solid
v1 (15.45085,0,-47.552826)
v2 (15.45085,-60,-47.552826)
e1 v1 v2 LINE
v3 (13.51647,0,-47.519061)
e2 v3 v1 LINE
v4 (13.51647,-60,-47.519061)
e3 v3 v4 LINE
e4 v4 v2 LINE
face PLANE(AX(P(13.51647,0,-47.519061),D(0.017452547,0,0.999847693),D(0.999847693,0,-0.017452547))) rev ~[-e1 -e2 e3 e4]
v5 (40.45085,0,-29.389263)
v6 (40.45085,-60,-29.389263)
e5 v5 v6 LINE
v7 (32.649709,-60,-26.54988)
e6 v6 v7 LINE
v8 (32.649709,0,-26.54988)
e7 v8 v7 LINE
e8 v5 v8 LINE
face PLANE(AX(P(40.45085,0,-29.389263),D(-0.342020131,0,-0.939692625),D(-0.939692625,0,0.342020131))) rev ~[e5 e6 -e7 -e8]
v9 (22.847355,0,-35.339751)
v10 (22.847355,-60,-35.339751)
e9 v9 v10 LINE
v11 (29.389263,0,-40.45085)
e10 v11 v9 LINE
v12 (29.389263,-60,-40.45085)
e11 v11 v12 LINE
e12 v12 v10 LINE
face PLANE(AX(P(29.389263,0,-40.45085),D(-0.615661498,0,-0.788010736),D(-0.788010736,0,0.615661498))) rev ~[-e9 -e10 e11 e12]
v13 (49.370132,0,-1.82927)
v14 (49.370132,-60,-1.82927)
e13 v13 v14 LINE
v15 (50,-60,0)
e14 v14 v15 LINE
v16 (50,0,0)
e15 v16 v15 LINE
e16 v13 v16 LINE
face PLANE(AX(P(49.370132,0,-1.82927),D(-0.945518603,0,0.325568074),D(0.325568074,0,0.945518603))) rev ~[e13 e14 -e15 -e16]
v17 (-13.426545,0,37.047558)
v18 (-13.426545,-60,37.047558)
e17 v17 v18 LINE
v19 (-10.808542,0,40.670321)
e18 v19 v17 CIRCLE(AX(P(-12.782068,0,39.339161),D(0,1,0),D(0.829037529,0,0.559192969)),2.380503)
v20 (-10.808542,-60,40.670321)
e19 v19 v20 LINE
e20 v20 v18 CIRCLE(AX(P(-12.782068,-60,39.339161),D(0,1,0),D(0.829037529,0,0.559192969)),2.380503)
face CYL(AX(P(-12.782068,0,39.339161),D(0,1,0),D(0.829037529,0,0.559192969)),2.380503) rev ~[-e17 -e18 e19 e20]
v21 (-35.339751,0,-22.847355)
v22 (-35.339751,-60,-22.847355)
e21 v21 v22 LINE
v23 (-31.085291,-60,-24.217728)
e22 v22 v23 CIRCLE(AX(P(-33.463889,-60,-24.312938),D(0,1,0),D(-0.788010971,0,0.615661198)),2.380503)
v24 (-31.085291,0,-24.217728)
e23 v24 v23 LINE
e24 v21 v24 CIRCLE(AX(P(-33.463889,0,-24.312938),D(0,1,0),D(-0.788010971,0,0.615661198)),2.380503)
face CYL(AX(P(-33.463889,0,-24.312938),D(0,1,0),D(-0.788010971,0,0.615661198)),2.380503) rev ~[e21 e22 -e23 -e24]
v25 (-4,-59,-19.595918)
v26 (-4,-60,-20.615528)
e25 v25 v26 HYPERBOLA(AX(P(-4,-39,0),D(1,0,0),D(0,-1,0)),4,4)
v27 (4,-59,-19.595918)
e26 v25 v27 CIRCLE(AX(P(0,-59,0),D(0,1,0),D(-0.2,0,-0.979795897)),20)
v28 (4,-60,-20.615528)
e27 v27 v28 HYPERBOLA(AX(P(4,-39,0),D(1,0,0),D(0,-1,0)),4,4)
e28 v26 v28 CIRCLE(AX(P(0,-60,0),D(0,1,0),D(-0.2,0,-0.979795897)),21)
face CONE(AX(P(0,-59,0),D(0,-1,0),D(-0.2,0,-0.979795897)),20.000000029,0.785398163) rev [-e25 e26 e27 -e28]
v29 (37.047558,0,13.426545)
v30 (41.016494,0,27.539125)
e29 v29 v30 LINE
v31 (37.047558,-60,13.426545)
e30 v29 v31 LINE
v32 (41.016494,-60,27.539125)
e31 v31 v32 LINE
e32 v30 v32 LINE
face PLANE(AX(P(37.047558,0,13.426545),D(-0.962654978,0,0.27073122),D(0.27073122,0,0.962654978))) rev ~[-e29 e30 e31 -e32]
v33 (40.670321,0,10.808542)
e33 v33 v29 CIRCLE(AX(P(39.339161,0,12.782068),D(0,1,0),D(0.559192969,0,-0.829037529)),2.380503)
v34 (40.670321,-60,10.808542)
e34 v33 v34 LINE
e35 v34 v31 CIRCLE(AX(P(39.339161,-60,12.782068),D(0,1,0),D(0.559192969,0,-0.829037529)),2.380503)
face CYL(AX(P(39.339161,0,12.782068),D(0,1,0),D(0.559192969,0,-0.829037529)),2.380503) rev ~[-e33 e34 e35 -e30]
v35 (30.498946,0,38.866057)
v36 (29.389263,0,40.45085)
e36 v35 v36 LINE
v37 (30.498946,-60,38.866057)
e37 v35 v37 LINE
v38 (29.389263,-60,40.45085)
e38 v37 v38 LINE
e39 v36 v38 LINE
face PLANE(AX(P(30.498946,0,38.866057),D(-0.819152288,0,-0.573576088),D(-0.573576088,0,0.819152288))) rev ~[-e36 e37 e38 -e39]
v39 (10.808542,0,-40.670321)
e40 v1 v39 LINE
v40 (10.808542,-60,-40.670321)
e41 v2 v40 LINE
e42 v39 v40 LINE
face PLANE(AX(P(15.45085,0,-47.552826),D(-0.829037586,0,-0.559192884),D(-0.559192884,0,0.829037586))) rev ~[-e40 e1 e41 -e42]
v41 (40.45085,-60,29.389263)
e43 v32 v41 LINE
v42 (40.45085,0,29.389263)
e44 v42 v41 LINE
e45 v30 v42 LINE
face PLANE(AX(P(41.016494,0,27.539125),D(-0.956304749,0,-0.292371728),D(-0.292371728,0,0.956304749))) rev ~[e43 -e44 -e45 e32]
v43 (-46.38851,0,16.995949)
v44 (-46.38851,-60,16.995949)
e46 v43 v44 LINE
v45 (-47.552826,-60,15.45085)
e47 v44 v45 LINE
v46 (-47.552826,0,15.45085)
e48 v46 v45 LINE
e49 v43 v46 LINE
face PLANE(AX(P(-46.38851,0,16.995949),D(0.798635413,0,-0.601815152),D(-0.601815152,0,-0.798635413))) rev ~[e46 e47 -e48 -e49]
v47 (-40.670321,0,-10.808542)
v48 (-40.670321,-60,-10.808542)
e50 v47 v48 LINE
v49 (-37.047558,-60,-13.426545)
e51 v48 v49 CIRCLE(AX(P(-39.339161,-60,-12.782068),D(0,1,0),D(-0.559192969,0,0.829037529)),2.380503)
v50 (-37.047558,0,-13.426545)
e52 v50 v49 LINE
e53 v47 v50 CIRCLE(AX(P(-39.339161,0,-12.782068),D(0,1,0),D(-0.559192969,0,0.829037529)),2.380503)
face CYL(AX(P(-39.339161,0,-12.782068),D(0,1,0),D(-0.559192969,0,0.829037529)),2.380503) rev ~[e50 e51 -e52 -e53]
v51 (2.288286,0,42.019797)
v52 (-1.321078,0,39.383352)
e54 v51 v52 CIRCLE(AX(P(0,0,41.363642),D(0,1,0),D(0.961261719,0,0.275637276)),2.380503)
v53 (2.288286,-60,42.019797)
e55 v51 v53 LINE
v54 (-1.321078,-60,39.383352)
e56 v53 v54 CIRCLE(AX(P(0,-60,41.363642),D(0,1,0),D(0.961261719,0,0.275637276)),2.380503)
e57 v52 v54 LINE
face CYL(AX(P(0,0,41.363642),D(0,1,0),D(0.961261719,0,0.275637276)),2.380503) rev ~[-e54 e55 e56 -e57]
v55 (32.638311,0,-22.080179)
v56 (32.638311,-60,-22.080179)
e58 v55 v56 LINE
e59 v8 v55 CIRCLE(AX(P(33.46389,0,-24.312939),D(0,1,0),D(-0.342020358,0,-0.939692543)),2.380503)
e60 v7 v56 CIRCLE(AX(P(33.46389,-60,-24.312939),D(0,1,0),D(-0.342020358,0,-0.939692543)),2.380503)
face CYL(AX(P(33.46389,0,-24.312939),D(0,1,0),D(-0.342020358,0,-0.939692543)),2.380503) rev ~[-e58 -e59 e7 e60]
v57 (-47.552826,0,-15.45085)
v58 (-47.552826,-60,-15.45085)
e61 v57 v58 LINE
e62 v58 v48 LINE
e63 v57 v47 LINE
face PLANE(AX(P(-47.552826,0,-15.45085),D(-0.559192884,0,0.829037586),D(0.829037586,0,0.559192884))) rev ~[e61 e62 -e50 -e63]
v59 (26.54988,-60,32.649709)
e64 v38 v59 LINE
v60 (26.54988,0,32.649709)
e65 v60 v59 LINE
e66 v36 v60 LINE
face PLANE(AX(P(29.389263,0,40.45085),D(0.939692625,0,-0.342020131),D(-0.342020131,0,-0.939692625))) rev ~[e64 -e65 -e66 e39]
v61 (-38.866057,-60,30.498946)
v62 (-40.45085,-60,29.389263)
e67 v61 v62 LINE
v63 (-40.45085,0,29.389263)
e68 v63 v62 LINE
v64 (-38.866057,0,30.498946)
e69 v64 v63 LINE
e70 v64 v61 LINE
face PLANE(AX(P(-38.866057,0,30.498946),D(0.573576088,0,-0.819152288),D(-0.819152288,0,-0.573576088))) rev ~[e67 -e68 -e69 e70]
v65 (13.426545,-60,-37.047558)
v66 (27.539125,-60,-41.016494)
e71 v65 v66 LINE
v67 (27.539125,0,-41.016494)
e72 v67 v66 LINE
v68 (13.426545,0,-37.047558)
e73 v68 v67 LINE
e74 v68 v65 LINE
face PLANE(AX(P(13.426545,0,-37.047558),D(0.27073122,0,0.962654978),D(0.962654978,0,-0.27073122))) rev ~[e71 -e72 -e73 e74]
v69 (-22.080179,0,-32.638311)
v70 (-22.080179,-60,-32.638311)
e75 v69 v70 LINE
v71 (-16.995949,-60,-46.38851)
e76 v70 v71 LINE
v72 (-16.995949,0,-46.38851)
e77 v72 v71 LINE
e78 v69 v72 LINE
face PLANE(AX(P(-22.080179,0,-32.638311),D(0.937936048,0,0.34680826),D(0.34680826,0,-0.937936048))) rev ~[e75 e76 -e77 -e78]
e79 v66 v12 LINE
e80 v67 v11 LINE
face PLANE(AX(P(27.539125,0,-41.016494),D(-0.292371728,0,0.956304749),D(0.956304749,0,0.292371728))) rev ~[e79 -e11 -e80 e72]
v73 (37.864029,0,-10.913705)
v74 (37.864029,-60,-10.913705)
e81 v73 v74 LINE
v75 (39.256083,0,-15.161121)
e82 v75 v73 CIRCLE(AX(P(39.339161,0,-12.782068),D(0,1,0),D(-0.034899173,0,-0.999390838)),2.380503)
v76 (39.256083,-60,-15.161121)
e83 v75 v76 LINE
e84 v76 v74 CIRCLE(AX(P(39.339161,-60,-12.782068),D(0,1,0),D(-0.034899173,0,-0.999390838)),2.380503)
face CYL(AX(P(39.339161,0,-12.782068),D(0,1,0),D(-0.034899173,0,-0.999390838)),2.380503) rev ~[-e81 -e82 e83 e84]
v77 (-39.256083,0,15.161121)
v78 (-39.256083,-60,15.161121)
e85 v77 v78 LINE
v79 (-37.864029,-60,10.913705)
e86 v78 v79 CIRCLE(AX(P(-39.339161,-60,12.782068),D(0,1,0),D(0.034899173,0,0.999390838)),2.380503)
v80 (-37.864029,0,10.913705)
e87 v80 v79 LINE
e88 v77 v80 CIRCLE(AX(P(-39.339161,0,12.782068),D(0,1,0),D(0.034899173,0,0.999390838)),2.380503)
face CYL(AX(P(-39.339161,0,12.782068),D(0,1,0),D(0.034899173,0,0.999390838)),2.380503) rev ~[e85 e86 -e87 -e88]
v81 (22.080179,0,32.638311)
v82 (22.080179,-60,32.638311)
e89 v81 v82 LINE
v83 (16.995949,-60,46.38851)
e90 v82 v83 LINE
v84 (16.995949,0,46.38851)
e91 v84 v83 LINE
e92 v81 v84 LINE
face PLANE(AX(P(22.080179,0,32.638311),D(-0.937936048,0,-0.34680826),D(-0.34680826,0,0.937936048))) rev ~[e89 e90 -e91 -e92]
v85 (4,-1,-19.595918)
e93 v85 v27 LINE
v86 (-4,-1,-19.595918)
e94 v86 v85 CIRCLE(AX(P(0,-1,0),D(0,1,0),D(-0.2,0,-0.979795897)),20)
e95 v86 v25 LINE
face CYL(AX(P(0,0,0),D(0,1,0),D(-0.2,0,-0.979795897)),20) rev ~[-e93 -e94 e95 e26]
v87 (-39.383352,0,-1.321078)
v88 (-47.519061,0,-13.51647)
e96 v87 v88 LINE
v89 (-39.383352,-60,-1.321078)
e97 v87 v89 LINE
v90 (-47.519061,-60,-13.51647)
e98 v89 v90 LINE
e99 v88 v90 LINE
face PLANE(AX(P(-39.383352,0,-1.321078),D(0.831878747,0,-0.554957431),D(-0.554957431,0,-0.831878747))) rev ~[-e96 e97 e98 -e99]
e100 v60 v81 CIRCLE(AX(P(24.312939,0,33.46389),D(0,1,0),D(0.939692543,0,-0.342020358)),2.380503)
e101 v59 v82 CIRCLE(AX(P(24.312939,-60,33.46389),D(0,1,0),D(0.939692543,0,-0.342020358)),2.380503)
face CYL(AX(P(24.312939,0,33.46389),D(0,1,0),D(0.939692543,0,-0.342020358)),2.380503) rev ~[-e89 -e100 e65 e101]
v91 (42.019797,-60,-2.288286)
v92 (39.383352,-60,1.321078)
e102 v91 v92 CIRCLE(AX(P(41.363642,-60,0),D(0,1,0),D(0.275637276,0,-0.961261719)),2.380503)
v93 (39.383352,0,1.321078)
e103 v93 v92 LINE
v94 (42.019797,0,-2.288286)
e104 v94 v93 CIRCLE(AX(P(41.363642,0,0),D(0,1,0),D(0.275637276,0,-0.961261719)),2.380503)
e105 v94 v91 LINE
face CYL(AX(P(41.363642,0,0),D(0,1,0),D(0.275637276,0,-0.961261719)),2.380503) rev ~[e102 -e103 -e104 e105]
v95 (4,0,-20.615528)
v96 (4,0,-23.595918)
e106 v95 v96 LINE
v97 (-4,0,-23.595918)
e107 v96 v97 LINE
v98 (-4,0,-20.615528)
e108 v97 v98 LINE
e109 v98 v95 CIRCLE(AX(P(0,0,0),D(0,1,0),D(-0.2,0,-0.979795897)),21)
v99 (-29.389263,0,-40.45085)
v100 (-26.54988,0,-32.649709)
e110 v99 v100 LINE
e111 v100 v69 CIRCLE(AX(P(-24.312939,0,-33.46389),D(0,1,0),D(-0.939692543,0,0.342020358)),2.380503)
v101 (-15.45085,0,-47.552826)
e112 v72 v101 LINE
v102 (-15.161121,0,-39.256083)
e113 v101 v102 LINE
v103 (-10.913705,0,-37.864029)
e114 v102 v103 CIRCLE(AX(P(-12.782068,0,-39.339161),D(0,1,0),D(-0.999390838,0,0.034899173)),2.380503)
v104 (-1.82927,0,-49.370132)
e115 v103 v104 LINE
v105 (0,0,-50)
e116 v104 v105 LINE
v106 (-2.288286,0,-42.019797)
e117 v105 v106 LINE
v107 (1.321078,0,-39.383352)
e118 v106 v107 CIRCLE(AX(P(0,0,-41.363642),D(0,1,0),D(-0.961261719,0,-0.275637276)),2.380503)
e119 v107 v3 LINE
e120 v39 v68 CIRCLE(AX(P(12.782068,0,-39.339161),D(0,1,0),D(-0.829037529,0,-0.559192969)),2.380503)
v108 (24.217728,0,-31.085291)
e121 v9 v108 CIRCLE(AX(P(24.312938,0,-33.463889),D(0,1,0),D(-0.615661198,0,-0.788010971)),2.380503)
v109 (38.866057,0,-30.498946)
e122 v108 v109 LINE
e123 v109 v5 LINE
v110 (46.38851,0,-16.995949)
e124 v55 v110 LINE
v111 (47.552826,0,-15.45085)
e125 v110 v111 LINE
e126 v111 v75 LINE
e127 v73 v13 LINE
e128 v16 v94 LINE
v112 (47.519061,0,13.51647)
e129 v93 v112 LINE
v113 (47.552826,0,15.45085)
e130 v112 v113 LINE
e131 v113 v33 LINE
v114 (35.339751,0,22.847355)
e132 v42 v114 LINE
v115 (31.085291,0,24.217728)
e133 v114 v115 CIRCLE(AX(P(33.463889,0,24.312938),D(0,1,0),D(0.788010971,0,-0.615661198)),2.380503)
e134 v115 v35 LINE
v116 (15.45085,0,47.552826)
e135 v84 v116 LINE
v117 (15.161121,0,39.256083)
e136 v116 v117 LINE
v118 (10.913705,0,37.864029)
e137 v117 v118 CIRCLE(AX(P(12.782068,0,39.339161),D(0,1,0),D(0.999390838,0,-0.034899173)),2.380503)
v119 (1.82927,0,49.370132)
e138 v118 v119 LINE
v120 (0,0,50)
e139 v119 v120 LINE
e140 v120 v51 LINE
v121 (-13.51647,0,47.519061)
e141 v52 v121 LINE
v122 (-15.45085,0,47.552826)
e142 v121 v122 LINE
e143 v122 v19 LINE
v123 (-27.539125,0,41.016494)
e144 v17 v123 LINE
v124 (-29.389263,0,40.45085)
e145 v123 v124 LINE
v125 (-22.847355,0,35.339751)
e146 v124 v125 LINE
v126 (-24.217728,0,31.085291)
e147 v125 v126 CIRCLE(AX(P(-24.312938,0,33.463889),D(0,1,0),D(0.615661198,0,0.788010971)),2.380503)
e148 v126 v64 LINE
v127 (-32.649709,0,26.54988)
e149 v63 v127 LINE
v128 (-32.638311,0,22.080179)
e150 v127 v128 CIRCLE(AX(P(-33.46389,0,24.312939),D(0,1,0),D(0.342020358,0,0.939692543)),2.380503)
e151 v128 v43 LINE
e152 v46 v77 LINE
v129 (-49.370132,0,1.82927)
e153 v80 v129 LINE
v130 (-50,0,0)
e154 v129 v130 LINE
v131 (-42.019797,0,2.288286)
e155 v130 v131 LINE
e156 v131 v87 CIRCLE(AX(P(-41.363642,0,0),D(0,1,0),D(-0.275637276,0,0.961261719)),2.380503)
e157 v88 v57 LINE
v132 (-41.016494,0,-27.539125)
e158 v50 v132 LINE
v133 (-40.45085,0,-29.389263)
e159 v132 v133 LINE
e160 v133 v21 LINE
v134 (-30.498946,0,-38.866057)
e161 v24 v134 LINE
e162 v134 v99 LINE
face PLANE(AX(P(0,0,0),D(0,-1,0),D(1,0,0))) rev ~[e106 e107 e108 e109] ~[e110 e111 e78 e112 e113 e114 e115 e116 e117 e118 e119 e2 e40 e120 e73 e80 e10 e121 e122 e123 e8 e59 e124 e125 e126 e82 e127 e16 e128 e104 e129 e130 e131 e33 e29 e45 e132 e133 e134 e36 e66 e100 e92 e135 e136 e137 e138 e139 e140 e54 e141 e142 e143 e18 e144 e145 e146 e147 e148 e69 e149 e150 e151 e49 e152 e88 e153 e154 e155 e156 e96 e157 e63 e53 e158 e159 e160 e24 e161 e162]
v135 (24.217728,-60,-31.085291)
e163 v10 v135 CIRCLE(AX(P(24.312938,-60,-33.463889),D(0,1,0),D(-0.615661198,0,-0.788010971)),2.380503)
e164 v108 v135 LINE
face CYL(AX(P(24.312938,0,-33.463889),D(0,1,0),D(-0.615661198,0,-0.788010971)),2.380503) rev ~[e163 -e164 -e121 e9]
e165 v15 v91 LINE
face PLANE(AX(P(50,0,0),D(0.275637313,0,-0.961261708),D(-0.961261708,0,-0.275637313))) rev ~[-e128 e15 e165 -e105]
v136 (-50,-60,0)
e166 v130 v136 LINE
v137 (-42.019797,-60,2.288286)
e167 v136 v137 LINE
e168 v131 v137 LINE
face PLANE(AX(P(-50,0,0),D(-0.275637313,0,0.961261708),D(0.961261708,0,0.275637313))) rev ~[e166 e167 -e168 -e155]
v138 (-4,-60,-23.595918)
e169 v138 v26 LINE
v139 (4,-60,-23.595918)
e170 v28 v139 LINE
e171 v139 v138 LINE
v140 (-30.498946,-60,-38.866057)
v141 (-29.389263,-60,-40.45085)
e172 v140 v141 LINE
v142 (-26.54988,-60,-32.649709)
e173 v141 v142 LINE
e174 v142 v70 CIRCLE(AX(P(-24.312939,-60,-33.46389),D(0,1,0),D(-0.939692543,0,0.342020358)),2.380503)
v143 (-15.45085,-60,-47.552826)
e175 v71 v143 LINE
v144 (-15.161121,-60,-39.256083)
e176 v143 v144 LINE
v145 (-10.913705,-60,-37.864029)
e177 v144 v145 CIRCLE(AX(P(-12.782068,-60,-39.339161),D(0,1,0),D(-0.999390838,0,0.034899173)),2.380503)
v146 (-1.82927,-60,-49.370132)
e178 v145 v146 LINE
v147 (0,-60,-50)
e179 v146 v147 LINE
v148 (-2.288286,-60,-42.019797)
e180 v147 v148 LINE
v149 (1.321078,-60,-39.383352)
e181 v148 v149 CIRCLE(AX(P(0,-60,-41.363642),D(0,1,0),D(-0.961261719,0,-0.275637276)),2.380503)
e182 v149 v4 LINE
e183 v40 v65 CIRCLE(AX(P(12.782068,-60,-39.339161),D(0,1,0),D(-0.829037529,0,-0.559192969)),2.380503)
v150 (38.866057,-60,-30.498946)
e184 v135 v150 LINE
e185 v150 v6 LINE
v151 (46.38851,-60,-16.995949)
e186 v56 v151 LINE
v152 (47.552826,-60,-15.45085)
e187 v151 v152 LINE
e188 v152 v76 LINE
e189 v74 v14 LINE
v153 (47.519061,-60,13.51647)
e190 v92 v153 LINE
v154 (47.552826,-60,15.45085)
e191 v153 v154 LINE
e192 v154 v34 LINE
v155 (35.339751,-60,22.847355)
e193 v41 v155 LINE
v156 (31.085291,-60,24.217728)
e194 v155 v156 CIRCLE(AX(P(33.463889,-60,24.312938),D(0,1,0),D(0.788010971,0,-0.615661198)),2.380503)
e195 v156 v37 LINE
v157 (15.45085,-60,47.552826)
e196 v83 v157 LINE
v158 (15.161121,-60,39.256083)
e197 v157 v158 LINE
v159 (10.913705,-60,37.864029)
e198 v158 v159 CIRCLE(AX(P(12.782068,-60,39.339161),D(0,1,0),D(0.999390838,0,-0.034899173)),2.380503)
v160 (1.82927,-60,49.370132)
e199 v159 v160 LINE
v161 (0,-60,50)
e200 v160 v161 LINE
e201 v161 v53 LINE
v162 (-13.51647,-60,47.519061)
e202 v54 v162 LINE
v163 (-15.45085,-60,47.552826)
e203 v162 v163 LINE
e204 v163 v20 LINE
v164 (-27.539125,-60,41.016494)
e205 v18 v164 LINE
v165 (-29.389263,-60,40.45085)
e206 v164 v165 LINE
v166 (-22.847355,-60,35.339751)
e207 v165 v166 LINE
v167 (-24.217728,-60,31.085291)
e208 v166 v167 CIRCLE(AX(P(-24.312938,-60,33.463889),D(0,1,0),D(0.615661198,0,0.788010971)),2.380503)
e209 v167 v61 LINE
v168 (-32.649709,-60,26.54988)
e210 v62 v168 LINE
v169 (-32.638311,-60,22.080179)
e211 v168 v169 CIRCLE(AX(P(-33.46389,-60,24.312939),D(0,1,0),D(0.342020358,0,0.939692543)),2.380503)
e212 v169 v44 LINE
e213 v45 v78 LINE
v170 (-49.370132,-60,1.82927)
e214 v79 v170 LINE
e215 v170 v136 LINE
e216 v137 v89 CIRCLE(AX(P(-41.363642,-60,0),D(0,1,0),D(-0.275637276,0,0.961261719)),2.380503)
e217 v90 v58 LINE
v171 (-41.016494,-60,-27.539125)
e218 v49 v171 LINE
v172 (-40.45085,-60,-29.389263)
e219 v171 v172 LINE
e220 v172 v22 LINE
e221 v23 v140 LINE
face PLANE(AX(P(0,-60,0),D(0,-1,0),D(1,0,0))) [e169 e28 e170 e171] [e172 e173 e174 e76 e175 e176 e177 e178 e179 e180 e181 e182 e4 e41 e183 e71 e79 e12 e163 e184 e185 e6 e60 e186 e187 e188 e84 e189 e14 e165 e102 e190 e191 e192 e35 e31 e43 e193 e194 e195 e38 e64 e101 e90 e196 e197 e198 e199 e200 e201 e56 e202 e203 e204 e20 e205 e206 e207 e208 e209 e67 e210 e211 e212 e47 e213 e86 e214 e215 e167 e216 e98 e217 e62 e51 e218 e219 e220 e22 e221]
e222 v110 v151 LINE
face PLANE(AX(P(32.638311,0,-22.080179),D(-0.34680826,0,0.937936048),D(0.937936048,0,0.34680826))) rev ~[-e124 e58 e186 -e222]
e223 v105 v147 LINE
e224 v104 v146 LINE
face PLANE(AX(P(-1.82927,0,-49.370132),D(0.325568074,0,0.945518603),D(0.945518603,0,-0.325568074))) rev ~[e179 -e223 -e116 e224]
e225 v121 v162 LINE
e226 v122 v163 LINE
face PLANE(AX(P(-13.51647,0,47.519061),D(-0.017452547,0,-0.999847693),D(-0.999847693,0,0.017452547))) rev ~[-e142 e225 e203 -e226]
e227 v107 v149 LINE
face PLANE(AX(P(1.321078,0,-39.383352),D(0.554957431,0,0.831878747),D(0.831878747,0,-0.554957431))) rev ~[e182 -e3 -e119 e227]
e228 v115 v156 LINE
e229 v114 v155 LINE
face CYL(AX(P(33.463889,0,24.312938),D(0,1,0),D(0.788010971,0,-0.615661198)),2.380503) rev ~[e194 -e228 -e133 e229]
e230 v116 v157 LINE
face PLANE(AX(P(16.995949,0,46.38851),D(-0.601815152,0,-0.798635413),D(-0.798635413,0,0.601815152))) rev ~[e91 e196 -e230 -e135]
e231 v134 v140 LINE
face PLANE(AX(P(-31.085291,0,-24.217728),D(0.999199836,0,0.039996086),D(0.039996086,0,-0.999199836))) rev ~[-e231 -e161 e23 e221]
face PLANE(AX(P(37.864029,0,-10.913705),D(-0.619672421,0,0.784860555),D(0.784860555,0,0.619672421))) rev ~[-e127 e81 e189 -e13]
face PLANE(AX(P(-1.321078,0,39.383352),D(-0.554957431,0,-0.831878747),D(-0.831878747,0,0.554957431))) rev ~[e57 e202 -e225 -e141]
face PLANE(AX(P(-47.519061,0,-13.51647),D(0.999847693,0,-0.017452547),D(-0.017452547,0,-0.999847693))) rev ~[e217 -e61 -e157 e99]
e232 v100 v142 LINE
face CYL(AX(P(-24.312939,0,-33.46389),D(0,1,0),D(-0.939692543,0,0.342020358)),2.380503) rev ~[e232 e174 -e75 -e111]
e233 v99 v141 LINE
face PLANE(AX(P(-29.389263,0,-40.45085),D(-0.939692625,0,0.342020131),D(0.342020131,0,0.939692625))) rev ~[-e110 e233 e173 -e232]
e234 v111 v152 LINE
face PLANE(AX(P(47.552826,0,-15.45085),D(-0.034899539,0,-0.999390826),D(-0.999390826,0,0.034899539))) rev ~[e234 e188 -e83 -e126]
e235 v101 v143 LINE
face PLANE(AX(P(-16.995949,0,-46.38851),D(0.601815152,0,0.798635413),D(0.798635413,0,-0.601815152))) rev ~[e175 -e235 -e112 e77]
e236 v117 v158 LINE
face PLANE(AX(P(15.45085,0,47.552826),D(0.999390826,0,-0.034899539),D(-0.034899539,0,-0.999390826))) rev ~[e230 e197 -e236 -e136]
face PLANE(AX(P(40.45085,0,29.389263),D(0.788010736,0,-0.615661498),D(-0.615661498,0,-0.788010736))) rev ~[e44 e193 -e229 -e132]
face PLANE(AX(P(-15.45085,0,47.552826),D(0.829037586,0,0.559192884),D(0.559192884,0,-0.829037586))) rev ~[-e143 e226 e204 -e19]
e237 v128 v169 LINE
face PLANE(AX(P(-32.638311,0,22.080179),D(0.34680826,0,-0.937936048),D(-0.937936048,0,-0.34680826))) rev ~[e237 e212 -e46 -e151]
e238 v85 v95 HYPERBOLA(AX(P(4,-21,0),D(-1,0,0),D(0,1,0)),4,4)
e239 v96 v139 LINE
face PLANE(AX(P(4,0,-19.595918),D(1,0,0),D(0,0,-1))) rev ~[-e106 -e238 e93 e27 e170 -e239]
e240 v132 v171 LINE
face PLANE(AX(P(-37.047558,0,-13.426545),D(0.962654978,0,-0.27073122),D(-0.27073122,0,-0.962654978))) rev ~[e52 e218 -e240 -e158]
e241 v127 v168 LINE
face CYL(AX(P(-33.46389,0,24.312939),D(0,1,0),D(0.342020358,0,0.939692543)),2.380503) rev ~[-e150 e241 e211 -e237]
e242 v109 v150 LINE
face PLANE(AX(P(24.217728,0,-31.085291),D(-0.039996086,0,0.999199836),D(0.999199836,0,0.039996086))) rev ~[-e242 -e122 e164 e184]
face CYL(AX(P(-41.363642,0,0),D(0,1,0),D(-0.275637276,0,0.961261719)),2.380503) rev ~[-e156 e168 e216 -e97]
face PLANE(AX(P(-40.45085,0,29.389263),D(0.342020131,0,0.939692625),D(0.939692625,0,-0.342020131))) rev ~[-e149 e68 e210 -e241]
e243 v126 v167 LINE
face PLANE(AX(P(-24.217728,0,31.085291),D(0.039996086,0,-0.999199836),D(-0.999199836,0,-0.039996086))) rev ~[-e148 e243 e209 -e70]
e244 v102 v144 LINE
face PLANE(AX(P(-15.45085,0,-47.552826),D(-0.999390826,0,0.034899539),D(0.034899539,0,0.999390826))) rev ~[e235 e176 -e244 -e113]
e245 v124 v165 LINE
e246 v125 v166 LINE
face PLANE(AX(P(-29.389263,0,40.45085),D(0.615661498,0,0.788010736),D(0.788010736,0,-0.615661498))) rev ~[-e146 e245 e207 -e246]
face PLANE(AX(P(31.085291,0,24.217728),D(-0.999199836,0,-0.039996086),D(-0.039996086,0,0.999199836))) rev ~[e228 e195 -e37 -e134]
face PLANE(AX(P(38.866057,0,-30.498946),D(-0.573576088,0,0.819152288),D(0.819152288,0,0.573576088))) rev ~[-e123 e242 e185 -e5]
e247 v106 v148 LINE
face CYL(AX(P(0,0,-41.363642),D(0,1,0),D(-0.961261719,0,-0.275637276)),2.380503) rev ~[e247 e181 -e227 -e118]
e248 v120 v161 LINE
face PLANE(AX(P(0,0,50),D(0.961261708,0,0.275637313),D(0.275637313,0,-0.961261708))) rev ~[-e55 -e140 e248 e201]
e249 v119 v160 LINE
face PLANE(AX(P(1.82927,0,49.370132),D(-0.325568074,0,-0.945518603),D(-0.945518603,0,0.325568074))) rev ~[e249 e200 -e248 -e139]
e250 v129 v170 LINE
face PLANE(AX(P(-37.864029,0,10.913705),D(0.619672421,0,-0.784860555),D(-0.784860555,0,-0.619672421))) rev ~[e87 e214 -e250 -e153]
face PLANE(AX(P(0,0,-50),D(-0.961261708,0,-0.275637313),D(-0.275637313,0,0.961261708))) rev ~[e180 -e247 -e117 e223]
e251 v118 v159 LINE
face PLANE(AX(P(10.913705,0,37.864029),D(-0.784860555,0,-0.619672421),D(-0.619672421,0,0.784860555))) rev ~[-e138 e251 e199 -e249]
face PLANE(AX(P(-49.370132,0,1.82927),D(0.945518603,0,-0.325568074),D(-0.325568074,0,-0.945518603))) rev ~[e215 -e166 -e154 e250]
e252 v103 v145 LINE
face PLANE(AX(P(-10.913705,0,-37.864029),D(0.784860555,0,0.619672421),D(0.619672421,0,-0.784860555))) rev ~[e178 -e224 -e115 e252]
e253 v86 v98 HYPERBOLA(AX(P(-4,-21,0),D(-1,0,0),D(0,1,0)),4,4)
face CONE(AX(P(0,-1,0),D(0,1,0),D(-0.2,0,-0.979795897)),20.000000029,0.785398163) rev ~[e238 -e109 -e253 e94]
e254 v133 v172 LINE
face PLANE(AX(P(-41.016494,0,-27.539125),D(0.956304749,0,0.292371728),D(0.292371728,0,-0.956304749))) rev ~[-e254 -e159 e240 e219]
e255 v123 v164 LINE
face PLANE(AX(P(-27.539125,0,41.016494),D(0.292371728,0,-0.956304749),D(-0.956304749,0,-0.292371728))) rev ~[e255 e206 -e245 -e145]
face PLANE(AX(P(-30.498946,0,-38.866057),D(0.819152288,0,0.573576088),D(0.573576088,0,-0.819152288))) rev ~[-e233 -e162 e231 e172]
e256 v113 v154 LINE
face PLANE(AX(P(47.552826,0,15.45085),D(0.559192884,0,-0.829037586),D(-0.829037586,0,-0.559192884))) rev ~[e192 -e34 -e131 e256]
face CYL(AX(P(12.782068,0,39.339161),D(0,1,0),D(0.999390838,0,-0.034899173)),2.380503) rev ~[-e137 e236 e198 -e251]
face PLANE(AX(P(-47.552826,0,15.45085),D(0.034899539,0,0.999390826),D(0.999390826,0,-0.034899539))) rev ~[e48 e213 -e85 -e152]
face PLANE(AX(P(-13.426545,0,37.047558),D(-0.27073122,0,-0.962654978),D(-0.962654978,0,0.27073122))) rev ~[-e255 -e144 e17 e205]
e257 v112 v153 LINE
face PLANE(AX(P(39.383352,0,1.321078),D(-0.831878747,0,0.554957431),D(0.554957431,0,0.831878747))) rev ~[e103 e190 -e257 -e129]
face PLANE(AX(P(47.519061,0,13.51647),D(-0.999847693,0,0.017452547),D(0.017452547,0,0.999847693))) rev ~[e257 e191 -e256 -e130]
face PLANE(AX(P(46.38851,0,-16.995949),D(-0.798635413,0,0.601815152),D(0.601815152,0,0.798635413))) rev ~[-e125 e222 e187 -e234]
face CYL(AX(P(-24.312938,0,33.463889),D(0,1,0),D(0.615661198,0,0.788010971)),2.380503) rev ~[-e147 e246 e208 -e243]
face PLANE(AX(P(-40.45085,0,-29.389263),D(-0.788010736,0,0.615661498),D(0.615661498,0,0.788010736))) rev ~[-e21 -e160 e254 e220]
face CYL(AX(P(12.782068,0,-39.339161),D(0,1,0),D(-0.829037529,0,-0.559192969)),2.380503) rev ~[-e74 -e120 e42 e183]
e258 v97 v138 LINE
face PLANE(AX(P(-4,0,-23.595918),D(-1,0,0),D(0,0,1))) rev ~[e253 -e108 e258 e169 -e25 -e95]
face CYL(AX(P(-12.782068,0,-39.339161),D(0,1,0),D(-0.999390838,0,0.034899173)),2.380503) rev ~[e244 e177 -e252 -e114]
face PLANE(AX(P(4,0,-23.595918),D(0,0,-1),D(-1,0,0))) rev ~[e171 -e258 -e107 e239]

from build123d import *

# Parameters (mm, degrees)
F1_DEPTH = 60
F2_SIZE  = 1


with BuildPart() as f1:
    # F0 (on Front) → F1 (new body)
    with BuildSketch(Plane.XZ):
        with BuildLine():
            Line((1.82927, 49.370132), (0, 50))
            Line((0, 50), (2.288286, 42.019797))
            ThreePointArc((2.288286, 42.019797), (1.404131, 39.441349), (-1.321078, 39.383352))
            Line((-1.321078, 39.383352), (-13.51647, 47.519061))
            Line((-13.51647, 47.519061), (-15.45085, 47.552826))
            Line((-15.45085, 47.552826), (-10.808542, 40.670321))
            ThreePointArc((-10.808542, 40.670321), (-10.852639, 37.944852), (-13.426545, 37.047558))
            Line((-13.426545, 37.047558), (-27.539125, 41.016494))
            Line((-27.539125, 41.016494), (-29.389263, 40.45085))
            Line((-29.389263, 40.45085), (-22.847355, 35.339751))
            ThreePointArc((-22.847355, 35.339751), (-22.047077, 32.734049), (-24.217728, 31.085291))
            Line((-24.217728, 31.085291), (-38.866057, 30.498946))
            Line((-38.866057, 30.498946), (-40.45085, 29.389263))
            Line((-40.45085, 29.389263), (-32.649709, 26.54988))
            ThreePointArc((-32.649709, 26.54988), (-31.083394, 24.319009), (-32.638311, 22.080179))
            Line((-32.638311, 22.080179), (-46.38851, 16.995949))
            Line((-46.38851, 16.995949), (-47.552826, 15.45085))
            Line((-47.552826, 15.45085), (-39.256083, 15.161121))
            ThreePointArc((-39.256083, 15.161121), (-37.077051, 13.523455), (-37.864029, 10.913705))
            Line((-37.864029, 10.913705), (-49.370132, 1.82927))
            Line((-49.370132, 1.82927), (-50, 0))
            Line((-50, 0), (-42.019797, 2.288286))
            ThreePointArc((-42.019797, 2.288286), (-39.441349, 1.404131), (-39.383352, -1.321078))
            Line((-39.383352, -1.321078), (-47.519061, -13.51647))
            Line((-47.519061, -13.51647), (-47.552826, -15.45085))
            Line((-47.552826, -15.45085), (-40.670321, -10.808542))
            ThreePointArc((-40.670321, -10.808542), (-37.944852, -10.852639), (-37.047558, -13.426545))
            Line((-37.047558, -13.426545), (-41.016494, -27.539125))
            Line((-41.016494, -27.539125), (-40.45085, -29.389263))
            Line((-40.45085, -29.389263), (-35.339751, -22.847355))
            ThreePointArc((-35.339751, -22.847355), (-32.734049, -22.047077), (-31.085291, -24.217728))
            Line((-31.085291, -24.217728), (-30.498946, -38.866057))
            Line((-30.498946, -38.866057), (-29.389263, -40.45085))
            Line((-29.389263, -40.45085), (-26.54988, -32.649709))
            ThreePointArc((-26.54988, -32.649709), (-24.319009, -31.083394), (-22.080179, -32.638311))
            Line((-22.080179, -32.638311), (-16.995949, -46.38851))
            Line((-16.995949, -46.38851), (-15.45085, -47.552826))
            Line((-15.45085, -47.552826), (-15.161121, -39.256083))
            ThreePointArc((-15.161121, -39.256083), (-13.523455, -37.077051), (-10.913705, -37.864029))
            Line((-10.913705, -37.864029), (-1.82927, -49.370132))
            Line((-1.82927, -49.370132), (0, -50))
            Line((0, -50), (-2.288286, -42.019797))
            ThreePointArc((-2.288286, -42.019797), (-1.404131, -39.441349), (1.321078, -39.383352))
            Line((1.321078, -39.383352), (13.51647, -47.519061))
            Line((13.51647, -47.519061), (15.45085, -47.552826))
            Line((15.45085, -47.552826), (10.808542, -40.670321))
            ThreePointArc((10.808542, -40.670321), (10.852639, -37.944852), (13.426545, -37.047558))
            Line((13.426545, -37.047558), (27.539125, -41.016494))
            Line((27.539125, -41.016494), (29.389263, -40.45085))
            Line((29.389263, -40.45085), (22.847355, -35.339751))
            ThreePointArc((22.847355, -35.339751), (22.047077, -32.734049), (24.217728, -31.085291))
            Line((24.217728, -31.085291), (38.866057, -30.498946))
            Line((38.866057, -30.498946), (40.45085, -29.389263))
            Line((40.45085, -29.389263), (32.649709, -26.54988))
            ThreePointArc((32.649709, -26.54988), (31.083394, -24.319009), (32.638311, -22.080179))
            Line((32.638311, -22.080179), (46.38851, -16.995949))
            Line((46.38851, -16.995949), (47.552826, -15.45085))
            Line((47.552826, -15.45085), (39.256083, -15.161121))
            ThreePointArc((39.256083, -15.161121), (37.077051, -13.523455), (37.864029, -10.913705))
            Line((37.864029, -10.913705), (49.370132, -1.82927))
            Line((49.370132, -1.82927), (50, 0))
            Line((50, 0), (42.019797, -2.288286))
            ThreePointArc((42.019797, -2.288286), (39.441349, -1.404131), (39.383352, 1.321078))
            Line((39.383352, 1.321078), (47.519061, 13.51647))
            Line((47.519061, 13.51647), (47.552826, 15.45085))
            Line((47.552826, 15.45085), (40.670321, 10.808542))
            ThreePointArc((40.670321, 10.808542), (37.944852, 10.852639), (37.047558, 13.426545))
            Line((37.047558, 13.426545), (41.016494, 27.539125))
            Line((41.016494, 27.539125), (40.45085, 29.389263))
            Line((40.45085, 29.389263), (35.339751, 22.847355))
            ThreePointArc((35.339751, 22.847355), (32.734049, 22.047077), (31.085291, 24.217728))
            Line((31.085291, 24.217728), (30.498946, 38.866057))
            Line((30.498946, 38.866057), (29.389263, 40.45085))
            Line((29.389263, 40.45085), (26.54988, 32.649709))
            ThreePointArc((26.54988, 32.649709), (24.319009, 31.083394), (22.080179, 32.638311))
            Line((22.080179, 32.638311), (16.995949, 46.38851))
            Line((16.995949, 46.38851), (15.45085, 47.552826))
            Line((15.45085, 47.552826), (15.161121, 39.256083))
            ThreePointArc((15.161121, 39.256083), (13.523455, 37.077051), (10.913705, 37.864029))
            Line((10.913705, 37.864029), (1.82927, 49.370132))
        make_face()
        with BuildLine():
            ThreePointArc((-4, -19.595918), (0, 20), (4, -19.595918))
            Line((4, -19.595918), (4, -23.595918))
            Line((4, -23.595918), (-4, -23.595918))
            Line((-4, -23.595918), (-4, -19.595918))
        make_face(mode=Mode.SUBTRACT)
    extrude(amount=F1_DEPTH)

    # F2
    f2_edges = [f1.edges().sort_by_distance(p)[0] for p in [
        (0, -60, 20),
        (0, 0, 20),
    ]]
    chamfer(f2_edges, length=F2_SIZE)


solid = f1.part
